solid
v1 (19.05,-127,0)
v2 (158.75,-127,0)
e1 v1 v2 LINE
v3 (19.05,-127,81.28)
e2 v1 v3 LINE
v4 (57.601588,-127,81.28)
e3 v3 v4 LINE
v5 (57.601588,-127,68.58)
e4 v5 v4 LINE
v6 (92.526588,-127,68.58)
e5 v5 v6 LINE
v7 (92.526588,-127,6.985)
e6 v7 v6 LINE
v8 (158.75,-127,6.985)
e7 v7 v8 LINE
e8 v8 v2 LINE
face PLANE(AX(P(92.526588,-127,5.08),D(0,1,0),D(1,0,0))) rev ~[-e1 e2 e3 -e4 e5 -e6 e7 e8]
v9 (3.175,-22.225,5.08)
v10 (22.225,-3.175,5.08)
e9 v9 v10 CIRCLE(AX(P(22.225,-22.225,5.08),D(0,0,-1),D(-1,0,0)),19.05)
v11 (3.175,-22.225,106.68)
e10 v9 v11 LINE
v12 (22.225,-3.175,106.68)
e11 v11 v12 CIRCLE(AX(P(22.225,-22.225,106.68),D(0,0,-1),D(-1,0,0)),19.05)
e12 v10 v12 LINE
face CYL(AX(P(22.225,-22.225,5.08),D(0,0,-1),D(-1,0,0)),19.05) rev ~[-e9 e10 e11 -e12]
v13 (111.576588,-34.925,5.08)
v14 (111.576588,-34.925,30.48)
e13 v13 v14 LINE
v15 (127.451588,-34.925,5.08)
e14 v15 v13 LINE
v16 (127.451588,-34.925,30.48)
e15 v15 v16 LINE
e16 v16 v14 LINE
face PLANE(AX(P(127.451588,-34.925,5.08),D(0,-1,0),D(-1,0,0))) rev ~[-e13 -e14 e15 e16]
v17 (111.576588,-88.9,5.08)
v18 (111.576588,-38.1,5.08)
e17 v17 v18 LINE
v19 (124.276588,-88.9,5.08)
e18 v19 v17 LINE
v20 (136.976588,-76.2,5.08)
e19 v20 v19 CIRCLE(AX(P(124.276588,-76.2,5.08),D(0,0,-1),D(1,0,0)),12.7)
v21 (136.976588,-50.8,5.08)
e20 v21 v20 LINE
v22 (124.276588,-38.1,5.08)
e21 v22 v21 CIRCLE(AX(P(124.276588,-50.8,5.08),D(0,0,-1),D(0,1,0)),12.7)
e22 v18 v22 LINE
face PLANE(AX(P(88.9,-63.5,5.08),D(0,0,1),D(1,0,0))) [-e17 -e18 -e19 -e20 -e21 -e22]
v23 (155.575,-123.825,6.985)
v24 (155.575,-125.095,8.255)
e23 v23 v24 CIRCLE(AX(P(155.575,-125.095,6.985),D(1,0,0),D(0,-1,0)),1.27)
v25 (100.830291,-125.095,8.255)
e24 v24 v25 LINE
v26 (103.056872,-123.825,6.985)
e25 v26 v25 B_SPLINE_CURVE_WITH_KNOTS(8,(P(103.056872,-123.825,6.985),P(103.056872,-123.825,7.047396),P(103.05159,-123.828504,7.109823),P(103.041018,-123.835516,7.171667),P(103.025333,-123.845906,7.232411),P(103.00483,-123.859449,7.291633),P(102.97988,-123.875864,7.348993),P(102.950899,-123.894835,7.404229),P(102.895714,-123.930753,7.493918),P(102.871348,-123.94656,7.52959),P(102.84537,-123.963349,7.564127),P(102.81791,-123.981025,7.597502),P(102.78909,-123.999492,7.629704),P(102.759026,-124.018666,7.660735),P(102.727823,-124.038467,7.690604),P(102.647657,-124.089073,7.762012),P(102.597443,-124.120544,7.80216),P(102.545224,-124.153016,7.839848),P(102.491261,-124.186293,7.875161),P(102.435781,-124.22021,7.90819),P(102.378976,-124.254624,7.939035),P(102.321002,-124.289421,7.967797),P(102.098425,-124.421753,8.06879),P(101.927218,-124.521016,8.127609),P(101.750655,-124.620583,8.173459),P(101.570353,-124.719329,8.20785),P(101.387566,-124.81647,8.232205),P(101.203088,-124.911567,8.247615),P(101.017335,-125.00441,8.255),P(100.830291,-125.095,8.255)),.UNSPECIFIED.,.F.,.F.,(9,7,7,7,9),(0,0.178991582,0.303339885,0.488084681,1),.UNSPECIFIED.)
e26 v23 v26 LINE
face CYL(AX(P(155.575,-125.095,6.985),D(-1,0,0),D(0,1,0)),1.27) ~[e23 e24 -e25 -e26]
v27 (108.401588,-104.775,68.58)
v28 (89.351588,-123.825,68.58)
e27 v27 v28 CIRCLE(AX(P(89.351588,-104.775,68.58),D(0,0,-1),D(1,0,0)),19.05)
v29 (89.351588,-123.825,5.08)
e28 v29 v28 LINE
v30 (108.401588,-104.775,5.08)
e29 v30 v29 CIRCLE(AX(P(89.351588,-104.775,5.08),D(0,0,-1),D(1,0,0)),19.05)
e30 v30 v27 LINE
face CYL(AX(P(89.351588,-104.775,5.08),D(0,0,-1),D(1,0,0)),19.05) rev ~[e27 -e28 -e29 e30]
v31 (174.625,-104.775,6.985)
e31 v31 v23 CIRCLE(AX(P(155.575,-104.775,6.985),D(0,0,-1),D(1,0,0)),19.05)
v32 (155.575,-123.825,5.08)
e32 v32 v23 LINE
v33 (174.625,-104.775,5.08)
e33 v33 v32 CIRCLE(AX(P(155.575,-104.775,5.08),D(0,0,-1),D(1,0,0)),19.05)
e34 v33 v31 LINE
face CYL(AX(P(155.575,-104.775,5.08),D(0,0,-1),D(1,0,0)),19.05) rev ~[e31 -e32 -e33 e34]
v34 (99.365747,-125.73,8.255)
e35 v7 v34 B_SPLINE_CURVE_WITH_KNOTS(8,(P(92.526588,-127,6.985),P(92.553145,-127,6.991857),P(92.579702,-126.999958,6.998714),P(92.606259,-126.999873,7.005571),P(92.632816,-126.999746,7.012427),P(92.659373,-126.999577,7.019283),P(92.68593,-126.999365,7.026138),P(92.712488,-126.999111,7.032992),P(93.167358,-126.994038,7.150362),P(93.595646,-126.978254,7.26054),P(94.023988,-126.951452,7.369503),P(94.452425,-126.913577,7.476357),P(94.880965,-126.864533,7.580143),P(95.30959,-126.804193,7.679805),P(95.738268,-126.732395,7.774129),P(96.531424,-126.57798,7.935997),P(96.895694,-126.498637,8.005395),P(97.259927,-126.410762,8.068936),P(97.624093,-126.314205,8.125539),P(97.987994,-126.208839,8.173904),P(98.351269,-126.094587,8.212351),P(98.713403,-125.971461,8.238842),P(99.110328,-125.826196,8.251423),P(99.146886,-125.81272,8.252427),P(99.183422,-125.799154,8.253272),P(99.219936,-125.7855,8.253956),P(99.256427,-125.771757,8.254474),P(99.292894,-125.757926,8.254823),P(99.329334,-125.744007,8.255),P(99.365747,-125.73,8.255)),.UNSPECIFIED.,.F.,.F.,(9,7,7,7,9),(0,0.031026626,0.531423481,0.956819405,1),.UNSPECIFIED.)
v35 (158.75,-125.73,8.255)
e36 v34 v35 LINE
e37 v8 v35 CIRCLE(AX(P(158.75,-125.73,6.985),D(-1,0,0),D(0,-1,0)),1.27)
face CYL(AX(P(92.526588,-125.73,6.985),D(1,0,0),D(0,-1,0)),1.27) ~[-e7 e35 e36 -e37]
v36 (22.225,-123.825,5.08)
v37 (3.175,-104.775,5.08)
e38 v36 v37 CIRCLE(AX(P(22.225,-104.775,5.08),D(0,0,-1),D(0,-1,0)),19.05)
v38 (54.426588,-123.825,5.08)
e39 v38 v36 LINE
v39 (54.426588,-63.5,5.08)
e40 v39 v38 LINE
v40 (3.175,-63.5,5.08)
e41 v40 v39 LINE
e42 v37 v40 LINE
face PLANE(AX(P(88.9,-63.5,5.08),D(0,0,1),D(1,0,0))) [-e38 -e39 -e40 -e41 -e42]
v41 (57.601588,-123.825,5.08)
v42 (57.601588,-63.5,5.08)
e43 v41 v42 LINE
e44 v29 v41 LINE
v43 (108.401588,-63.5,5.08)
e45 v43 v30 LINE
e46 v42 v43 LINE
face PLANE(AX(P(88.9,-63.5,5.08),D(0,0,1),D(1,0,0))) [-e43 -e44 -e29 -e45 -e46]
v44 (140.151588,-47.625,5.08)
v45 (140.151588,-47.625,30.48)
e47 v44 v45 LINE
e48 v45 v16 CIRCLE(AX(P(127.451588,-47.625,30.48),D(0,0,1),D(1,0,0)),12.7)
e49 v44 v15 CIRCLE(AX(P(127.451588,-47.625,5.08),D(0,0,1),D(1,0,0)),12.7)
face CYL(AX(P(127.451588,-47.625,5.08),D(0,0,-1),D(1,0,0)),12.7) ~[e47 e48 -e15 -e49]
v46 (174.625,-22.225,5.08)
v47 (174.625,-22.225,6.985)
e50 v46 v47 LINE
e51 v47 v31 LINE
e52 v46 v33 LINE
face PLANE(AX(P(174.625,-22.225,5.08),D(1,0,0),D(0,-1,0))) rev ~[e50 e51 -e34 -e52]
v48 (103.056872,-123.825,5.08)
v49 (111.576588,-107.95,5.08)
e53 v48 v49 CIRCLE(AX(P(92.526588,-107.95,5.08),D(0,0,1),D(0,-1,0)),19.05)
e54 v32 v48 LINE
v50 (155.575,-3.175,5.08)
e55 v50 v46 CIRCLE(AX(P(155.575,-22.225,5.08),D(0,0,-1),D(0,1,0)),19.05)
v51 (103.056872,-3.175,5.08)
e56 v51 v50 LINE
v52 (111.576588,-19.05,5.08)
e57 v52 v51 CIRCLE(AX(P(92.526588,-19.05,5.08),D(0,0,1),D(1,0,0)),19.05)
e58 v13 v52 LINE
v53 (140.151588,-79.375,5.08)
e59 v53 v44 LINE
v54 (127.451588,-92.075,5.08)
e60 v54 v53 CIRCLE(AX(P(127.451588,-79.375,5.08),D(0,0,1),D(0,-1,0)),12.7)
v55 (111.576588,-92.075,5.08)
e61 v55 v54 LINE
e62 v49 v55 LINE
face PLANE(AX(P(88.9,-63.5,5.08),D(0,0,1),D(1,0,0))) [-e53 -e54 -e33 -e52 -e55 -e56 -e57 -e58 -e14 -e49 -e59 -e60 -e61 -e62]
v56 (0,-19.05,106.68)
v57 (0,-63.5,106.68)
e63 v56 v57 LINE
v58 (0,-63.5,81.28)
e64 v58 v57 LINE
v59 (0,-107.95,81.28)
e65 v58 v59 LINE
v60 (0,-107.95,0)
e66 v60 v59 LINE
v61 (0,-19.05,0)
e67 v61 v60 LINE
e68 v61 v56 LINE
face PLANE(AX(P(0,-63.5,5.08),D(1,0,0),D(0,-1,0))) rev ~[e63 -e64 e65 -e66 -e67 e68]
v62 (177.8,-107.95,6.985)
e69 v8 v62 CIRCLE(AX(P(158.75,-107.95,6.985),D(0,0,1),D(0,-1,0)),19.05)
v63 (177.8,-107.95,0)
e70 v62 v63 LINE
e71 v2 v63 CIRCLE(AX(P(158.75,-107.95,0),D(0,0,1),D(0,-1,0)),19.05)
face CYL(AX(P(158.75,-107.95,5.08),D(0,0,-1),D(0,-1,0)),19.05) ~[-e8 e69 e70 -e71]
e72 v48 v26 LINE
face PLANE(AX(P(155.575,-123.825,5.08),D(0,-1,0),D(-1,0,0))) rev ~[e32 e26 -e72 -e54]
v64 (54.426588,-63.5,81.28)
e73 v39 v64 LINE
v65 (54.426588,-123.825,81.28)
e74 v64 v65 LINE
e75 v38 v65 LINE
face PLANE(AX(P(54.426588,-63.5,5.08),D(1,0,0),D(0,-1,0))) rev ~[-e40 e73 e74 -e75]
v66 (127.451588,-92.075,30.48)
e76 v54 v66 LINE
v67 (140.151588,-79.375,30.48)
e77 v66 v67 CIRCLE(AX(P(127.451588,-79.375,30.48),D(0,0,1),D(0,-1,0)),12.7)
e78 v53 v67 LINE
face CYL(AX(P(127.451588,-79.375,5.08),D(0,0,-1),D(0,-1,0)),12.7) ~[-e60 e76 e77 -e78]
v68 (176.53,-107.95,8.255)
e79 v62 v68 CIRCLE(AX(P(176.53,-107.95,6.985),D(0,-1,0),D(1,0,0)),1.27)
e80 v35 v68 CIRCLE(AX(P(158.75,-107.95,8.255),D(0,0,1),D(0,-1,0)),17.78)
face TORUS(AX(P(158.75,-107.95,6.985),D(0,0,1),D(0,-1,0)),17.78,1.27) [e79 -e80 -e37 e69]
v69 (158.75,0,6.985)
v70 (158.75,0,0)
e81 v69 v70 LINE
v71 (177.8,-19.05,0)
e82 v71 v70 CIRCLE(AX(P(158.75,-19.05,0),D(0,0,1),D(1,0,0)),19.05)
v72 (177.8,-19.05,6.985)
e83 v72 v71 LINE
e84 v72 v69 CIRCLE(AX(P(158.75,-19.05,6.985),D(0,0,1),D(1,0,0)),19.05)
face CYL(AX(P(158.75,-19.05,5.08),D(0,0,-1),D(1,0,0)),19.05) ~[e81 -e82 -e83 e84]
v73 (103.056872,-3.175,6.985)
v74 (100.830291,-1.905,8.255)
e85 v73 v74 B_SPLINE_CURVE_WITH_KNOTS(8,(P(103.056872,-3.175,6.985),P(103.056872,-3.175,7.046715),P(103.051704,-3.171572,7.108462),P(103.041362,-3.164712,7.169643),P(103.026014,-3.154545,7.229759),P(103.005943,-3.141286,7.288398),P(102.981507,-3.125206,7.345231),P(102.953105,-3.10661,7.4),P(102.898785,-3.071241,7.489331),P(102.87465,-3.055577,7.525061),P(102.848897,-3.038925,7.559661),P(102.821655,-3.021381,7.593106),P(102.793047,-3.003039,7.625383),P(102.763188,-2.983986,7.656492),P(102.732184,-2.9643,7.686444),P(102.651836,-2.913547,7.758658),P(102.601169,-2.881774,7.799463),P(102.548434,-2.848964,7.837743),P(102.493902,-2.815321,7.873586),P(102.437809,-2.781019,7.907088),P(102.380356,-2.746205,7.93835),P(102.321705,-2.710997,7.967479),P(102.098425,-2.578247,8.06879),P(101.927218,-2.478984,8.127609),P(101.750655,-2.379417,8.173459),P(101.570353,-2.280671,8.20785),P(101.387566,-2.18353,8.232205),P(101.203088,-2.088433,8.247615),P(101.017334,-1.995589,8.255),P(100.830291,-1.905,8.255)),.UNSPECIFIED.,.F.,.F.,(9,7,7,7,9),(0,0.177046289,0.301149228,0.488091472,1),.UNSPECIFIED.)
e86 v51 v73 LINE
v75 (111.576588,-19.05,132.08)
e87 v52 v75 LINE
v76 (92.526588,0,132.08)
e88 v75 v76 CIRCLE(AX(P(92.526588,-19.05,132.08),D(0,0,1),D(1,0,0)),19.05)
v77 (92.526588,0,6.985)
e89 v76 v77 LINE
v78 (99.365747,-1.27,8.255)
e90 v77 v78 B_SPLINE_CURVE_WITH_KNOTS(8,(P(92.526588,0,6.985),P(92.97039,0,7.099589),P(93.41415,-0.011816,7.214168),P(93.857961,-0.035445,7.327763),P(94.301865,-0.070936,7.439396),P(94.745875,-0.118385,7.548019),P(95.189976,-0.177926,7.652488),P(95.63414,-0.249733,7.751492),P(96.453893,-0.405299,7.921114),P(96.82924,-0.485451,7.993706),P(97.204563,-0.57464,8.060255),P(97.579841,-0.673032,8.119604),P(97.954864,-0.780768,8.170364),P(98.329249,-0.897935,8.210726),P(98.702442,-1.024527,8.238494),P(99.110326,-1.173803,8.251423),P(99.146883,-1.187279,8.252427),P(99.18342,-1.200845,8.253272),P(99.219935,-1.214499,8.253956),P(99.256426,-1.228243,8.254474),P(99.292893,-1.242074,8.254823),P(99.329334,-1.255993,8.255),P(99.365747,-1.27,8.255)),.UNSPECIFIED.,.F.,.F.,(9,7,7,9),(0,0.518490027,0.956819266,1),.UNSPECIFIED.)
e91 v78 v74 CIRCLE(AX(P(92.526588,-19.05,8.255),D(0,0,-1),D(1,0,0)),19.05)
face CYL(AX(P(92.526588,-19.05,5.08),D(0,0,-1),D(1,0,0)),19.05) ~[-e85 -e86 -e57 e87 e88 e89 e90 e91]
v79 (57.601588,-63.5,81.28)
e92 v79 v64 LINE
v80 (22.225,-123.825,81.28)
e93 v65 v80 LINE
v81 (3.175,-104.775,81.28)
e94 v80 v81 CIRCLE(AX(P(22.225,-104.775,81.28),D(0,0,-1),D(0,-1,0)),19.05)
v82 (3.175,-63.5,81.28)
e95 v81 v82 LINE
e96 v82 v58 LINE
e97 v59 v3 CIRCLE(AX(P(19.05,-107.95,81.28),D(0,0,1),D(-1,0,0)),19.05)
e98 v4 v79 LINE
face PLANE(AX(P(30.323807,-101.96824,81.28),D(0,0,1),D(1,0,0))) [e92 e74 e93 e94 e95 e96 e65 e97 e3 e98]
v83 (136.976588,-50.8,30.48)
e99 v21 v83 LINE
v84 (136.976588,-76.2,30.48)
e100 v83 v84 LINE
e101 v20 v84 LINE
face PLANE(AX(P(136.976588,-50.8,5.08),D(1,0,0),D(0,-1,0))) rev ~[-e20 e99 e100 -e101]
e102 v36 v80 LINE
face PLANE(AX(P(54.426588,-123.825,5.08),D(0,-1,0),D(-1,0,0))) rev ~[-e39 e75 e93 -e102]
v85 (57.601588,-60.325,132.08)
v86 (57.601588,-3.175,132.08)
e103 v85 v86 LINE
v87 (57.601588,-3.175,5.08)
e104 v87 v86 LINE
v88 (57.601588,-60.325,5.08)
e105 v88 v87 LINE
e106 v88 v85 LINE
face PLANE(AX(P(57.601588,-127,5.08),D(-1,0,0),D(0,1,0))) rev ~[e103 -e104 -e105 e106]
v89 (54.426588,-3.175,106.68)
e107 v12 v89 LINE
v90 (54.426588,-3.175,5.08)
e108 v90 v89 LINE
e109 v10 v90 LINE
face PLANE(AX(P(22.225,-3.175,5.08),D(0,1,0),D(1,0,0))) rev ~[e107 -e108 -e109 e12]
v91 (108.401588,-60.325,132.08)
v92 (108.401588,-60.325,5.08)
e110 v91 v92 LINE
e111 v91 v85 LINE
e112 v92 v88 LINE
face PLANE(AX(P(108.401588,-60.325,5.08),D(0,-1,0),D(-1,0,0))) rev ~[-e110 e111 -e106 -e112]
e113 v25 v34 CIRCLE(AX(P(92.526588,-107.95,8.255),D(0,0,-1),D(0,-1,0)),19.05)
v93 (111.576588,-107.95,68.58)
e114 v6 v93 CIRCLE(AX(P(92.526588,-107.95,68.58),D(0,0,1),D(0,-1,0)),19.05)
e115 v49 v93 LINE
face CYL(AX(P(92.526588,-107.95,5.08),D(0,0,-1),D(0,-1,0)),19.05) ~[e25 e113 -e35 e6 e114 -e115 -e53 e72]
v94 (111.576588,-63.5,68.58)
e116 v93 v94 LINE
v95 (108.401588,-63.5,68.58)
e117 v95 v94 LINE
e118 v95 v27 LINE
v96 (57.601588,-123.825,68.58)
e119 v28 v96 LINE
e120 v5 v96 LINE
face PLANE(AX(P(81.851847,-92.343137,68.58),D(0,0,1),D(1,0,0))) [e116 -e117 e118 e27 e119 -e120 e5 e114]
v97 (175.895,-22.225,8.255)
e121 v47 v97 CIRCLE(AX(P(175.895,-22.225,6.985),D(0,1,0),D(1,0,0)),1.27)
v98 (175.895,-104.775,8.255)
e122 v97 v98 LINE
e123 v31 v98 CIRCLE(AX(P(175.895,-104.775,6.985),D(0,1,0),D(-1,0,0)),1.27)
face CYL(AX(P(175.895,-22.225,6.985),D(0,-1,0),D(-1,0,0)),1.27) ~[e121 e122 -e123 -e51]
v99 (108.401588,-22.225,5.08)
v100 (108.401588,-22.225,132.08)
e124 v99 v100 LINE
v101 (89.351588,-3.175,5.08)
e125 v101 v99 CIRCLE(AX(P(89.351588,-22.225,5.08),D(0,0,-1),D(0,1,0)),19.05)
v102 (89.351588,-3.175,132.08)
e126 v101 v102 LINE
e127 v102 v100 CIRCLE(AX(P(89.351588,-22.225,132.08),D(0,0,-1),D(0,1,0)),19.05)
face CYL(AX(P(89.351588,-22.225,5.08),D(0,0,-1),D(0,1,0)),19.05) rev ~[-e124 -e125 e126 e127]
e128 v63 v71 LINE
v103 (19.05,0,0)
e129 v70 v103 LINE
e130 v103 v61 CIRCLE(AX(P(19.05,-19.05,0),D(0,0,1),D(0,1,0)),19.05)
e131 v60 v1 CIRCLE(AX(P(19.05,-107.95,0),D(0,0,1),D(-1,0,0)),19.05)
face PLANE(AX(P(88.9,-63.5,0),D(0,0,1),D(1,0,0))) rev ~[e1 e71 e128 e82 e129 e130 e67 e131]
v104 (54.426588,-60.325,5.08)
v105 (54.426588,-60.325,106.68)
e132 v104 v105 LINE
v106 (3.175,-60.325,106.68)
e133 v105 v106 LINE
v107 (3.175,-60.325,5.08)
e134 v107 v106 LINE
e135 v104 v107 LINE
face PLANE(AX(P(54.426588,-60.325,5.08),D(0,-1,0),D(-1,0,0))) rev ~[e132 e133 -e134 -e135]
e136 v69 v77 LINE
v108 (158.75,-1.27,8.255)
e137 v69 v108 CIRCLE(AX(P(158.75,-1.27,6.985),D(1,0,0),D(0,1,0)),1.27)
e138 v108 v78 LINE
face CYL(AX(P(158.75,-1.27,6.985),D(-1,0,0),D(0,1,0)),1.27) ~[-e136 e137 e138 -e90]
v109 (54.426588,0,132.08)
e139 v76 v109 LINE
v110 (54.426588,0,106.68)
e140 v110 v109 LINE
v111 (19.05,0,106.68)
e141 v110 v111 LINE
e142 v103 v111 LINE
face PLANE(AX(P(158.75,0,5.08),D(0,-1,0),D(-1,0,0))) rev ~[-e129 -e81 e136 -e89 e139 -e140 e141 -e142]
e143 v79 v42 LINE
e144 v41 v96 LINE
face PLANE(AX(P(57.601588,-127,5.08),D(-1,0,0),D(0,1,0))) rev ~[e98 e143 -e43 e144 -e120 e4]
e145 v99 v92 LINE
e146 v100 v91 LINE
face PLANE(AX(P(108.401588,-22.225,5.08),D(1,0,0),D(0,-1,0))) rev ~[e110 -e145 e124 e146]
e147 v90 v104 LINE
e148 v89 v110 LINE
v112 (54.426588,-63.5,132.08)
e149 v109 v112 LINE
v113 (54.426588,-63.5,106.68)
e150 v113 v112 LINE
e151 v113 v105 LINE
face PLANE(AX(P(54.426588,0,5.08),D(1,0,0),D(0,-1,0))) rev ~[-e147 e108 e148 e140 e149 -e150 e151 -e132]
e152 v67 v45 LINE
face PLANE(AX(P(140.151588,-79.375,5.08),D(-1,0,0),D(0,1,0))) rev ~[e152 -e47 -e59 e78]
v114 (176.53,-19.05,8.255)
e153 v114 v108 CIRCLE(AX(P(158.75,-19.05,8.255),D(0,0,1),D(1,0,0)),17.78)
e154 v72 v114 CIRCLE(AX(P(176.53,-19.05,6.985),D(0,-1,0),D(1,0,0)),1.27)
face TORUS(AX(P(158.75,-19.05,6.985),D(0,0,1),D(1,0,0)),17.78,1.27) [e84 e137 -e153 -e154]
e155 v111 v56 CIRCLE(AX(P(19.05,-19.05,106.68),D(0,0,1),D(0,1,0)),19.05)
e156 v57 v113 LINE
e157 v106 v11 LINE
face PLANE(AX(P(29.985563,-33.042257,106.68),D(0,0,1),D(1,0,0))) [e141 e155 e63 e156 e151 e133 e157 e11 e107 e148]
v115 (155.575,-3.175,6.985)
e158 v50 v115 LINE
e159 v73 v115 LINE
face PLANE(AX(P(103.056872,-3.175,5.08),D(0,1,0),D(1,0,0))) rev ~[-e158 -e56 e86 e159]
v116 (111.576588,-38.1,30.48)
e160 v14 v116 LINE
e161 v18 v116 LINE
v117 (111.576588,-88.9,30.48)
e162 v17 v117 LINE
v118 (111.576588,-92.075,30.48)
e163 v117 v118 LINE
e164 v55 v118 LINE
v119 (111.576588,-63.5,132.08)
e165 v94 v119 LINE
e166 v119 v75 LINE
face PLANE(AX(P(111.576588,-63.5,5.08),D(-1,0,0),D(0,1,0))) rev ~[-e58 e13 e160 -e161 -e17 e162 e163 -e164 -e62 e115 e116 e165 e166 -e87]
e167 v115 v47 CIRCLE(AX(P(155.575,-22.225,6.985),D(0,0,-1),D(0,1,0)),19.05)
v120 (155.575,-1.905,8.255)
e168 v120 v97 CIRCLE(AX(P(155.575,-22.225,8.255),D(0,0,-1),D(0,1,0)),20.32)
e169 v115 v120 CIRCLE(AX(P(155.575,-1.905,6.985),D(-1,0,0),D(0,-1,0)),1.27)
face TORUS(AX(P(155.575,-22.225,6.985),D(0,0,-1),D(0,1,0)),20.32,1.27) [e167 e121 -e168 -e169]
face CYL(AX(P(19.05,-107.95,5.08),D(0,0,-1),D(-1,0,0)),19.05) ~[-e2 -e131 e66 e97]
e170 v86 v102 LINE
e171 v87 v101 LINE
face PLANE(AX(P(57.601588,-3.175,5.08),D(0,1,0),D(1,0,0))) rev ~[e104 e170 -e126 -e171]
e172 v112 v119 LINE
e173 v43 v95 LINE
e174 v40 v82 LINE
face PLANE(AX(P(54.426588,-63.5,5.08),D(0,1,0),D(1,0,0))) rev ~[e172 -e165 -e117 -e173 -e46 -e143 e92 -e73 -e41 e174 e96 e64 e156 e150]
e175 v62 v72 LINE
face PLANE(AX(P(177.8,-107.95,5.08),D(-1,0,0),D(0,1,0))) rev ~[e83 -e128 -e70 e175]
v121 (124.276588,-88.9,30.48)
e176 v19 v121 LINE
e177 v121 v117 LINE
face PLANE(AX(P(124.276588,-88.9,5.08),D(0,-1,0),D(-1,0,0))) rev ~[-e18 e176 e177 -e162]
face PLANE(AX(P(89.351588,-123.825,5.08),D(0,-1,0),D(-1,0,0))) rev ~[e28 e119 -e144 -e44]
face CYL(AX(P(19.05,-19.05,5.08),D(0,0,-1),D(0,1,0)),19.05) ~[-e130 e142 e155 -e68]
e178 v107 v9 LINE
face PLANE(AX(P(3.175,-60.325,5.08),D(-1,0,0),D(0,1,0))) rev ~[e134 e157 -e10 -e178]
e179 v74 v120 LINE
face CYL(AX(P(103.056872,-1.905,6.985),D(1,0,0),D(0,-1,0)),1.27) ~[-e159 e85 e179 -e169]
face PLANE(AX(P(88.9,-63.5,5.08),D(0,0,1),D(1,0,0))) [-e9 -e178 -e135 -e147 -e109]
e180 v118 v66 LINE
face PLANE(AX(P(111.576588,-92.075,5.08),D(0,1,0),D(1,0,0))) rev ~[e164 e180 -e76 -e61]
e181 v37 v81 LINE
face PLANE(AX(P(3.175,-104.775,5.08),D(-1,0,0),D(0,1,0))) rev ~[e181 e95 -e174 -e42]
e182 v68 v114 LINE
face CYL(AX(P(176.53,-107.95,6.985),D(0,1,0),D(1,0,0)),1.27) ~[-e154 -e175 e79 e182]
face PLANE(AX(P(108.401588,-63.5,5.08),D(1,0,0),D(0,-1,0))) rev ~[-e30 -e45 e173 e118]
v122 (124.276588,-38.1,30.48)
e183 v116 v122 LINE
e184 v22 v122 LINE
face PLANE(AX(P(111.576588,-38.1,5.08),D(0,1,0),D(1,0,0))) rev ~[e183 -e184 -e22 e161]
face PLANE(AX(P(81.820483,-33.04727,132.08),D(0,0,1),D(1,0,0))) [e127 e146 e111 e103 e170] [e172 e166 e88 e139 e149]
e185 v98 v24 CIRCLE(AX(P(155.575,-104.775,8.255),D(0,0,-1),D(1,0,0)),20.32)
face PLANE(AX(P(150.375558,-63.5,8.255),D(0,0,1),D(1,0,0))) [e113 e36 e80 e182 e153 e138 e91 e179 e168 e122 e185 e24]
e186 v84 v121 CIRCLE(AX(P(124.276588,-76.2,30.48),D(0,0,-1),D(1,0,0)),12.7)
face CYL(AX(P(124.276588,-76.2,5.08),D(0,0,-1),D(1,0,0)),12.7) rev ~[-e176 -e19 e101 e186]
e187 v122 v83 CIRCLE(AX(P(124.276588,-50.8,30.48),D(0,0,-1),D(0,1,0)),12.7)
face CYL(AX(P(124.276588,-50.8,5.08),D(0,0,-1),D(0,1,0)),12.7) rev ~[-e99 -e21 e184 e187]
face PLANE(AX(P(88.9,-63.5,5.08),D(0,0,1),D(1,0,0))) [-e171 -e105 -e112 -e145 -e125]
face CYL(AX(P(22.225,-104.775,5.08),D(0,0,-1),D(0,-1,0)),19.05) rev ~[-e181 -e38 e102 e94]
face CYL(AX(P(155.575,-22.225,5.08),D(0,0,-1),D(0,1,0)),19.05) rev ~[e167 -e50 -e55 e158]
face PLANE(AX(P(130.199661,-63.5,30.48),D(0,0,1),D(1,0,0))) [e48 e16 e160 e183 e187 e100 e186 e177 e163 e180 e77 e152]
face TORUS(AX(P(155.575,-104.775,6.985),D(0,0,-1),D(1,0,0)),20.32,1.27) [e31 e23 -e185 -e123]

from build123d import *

# Parameters (mm, degrees)
F1_DEPTH  = 5.08
F3_DEPTH  = 101.6
F5_DEPTH  = 76.2
F7_DEPTH  = 127
F9_DEPTH  = 63.5
F11_DEPTH = 3.175
F12_R     = 1.27
F14_DEPTH = 25.4


with BuildPart() as f1:
    # F0 (on Top) → F1 (new body)
    with BuildSketch(Plane.XY):
        with BuildLine():
            Line((158.75, 0), (19.05, 0))
            ThreePointArc((19.05, 0), (5.5796158184, -5.5796158184), (0, -19.05))
            Line((0, -19.05), (0, -107.95))
            ThreePointArc((0, -107.95), (5.5796158184, -121.4203841816), (19.05, -127))
            Line((19.05, -127), (158.75, -127))
            ThreePointArc((158.75, -127), (172.2203841816, -121.4203841816), (177.8, -107.95))
            Line((177.8, -107.95), (177.8, -19.05))
            ThreePointArc((177.8, -19.05), (172.2203841816, -5.5796158184), (158.75, 0))
        make_face()
    extrude(amount=F1_DEPTH)

    # F2 (on face) → F3 (join)
    with BuildSketch(Plane.XY.offset(5.08)):
        with BuildLine():
            Line((57.6015881181, 0), (19.05, 0))
            ThreePointArc((19.05, 0), (5.5796158184, -5.5796158184), (0, -19.05))
            Line((0, -19.05), (0, -63.5))
            Line((0, -63.5), (57.6015881181, -63.5))
            Line((57.6015881181, -63.5), (57.6015881181, 0))
        make_face()
        with BuildLine():
            ThreePointArc((3.175, -22.225), (8.7546158184, -8.7546158184), (22.225, -3.175))
            Line((22.225, -3.175), (54.4265881181, -3.175))
            Line((54.4265881181, -3.175), (54.4265881181, -60.325))
            Line((54.4265881181, -60.325), (3.175, -60.325))
            Line((3.175, -60.325), (3.175, -22.225))
        make_face(mode=Mode.SUBTRACT)
    extrude(amount=F3_DEPTH)

    # F4 (on face) → F5 (join)
    with BuildSketch(Plane.XY.offset(5.08)):
        with BuildLine():
            Line((3.175, -63.5), (0, -63.5))
            Line((0, -63.5), (0, -107.95))
            ThreePointArc((0, -107.95), (5.5796158184, -121.4203841816), (19.05, -127))
            Line((19.05, -127), (57.6015881181, -127))
            Line((57.6015881181, -127), (57.6015881181, -63.5))
            Line((57.6015881181, -63.5), (54.4265881181, -63.5))
            Line((54.4265881181, -63.5), (54.4265881181, -123.825))
            Line((54.4265881181, -123.825), (22.225, -123.825))
            ThreePointArc((22.225, -123.825), (8.7546158184, -118.2453841816), (3.175, -104.775))
            Line((3.175, -104.775), (3.175, -63.5))
        make_face()
    extrude(amount=F5_DEPTH)

    # F6 (on face) → F7 (join)
    with BuildSketch(Plane.XY.offset(5.08)):
        with BuildLine():
            Line((54.4265881181, 0), (54.4265881181, -63.5))
            Line((54.4265881181, -63.5), (111.5765881181, -63.5))
            Line((111.5765881181, -63.5), (111.5765881181, -19.05))
            ThreePointArc((111.5765881181, -19.05), (105.9969722997, -5.5796158184), (92.5265881181, 0))
            Line((92.5265881181, 0), (57.6015881181, 0))
            Line((57.6015881181, 0), (54.4265881181, 0))
        make_face()
        with BuildLine():
            Line((57.6015881181, -60.325), (57.6015881181, -3.175))
            Line((57.6015881181, -3.175), (89.3515881181, -3.175))
            ThreePointArc((89.3515881181, -3.175), (102.8219722997, -8.7546158184), (108.4015881181, -22.225))
            Line((108.4015881181, -22.225), (108.4015881181, -60.325))
            Line((108.4015881181, -60.325), (57.6015881181, -60.325))
        make_face(mode=Mode.SUBTRACT)
    extrude(amount=F7_DEPTH)

    # F8 (on face) → F9 (join)
    with BuildSketch(Plane.XY.offset(5.08)):
        with BuildLine():
            Line((111.5765881181, -60.325), (54.4265881181, -60.325))
            Line((54.4265881181, -60.325), (54.4265881181, -127))
            Line((54.4265881181, -127), (92.5265881181, -127))
            ThreePointArc((92.5265881181, -127), (105.9969722997, -121.4203841816), (111.5765881181, -107.95))
            Line((111.5765881181, -107.95), (111.5765881181, -60.325))
        make_face()
        with BuildLine():
            Line((57.6015881181, -123.825), (57.6015881181, -63.5))
            Line((57.6015881181, -63.5), (108.4015881181, -63.5))
            Line((108.4015881181, -63.5), (108.4015881181, -104.775))
            ThreePointArc((108.4015881181, -104.775), (102.8219722997, -118.2453841816), (89.3515881181, -123.825))
            Line((89.3515881181, -123.825), (57.6015881181, -123.825))
        make_face(mode=Mode.SUBTRACT)
    extrude(amount=F9_DEPTH)

    # F10 (on face) → F11 (join)
    with BuildSketch(Plane.XY.offset(5.08)):
        with BuildLine():
            Line((158.75, 0), (92.5265881181, 0))
            Line((92.5265881181, 0), (103.0568718275, -3.175))
            Line((103.0568718275, -3.175), (155.575, -3.175))
            ThreePointArc((155.575, -3.175), (169.0453841816, -8.7546158184), (174.625, -22.225))
            Line((174.625, -22.225), (174.625, -104.775))
            ThreePointArc((174.625, -104.775), (169.0453841816, -118.2453841816), (155.575, -123.825))
            Line((155.575, -123.825), (103.0568718275, -123.825))
            Line((103.0568718275, -123.825), (92.5265881181, -127))
            Line((92.5265881181, -127), (158.75, -127))
            ThreePointArc((158.75, -127), (172.2203841816, -121.4203841816), (177.8, -107.95))
            Line((177.8, -107.95), (177.8, -19.05))
            ThreePointArc((177.8, -19.05), (172.2203841816, -5.5796158184), (158.75, 0))
        make_face()
    extrude(amount=F11_DEPTH)

    # F12
    f12_edges = [f1.edges().sort_by_distance(p)[0] for p in [
        (125.638294, 0, 8.255),
        (169.045384, -8.754616, 8.255),
        (172.220384, -5.579616, 8.255),
        (177.8, -63.5, 8.255),
        (174.625, -63.5, 8.255),
        (172.220384, -121.420384, 8.255),
        (169.045384, -118.245384, 8.255),
        (129.315936, -123.825, 8.255),
        (125.638294, -127, 8.255),
        (129.315936, -3.175, 8.255),
    ]]
    fillet(f12_edges, radius=F12_R)

    # F13 (on face) → F14 (join)
    with BuildSketch(Plane.XY.offset(5.08)):
        with BuildLine():
            Line((111.5765881181, -92.075), (127.4515881181, -92.075))
            ThreePointArc((127.4515881181, -92.075), (136.4318442391, -88.3552561211), (140.1515881181, -79.375))
            Line((140.1515881181, -79.375), (140.1515881181, -47.625))
            ThreePointArc((140.1515881181, -47.625), (136.4318442391, -38.6447438789), (127.4515881181, -34.925))
            Line((127.4515881181, -34.925), (111.5765881181, -34.925))
            Line((111.5765881181, -34.925), (111.5765881181, -38.1))
            Line((111.5765881181, -38.1), (124.2765881181, -38.1))
            ThreePointArc((124.2765881181, -38.1), (133.2568442391, -41.8197438789), (136.9765881181, -50.8))
            Line((136.9765881181, -50.8), (136.9765881181, -76.2))
            ThreePointArc((136.9765881181, -76.2), (133.2568442391, -85.1802561211), (124.2765881181, -88.9))
            Line((124.2765881181, -88.9), (111.5765881181, -88.9))
            Line((111.5765881181, -88.9), (111.5765881181, -92.075))
        make_face()
    extrude(amount=F14_DEPTH)


solid = f1.part
